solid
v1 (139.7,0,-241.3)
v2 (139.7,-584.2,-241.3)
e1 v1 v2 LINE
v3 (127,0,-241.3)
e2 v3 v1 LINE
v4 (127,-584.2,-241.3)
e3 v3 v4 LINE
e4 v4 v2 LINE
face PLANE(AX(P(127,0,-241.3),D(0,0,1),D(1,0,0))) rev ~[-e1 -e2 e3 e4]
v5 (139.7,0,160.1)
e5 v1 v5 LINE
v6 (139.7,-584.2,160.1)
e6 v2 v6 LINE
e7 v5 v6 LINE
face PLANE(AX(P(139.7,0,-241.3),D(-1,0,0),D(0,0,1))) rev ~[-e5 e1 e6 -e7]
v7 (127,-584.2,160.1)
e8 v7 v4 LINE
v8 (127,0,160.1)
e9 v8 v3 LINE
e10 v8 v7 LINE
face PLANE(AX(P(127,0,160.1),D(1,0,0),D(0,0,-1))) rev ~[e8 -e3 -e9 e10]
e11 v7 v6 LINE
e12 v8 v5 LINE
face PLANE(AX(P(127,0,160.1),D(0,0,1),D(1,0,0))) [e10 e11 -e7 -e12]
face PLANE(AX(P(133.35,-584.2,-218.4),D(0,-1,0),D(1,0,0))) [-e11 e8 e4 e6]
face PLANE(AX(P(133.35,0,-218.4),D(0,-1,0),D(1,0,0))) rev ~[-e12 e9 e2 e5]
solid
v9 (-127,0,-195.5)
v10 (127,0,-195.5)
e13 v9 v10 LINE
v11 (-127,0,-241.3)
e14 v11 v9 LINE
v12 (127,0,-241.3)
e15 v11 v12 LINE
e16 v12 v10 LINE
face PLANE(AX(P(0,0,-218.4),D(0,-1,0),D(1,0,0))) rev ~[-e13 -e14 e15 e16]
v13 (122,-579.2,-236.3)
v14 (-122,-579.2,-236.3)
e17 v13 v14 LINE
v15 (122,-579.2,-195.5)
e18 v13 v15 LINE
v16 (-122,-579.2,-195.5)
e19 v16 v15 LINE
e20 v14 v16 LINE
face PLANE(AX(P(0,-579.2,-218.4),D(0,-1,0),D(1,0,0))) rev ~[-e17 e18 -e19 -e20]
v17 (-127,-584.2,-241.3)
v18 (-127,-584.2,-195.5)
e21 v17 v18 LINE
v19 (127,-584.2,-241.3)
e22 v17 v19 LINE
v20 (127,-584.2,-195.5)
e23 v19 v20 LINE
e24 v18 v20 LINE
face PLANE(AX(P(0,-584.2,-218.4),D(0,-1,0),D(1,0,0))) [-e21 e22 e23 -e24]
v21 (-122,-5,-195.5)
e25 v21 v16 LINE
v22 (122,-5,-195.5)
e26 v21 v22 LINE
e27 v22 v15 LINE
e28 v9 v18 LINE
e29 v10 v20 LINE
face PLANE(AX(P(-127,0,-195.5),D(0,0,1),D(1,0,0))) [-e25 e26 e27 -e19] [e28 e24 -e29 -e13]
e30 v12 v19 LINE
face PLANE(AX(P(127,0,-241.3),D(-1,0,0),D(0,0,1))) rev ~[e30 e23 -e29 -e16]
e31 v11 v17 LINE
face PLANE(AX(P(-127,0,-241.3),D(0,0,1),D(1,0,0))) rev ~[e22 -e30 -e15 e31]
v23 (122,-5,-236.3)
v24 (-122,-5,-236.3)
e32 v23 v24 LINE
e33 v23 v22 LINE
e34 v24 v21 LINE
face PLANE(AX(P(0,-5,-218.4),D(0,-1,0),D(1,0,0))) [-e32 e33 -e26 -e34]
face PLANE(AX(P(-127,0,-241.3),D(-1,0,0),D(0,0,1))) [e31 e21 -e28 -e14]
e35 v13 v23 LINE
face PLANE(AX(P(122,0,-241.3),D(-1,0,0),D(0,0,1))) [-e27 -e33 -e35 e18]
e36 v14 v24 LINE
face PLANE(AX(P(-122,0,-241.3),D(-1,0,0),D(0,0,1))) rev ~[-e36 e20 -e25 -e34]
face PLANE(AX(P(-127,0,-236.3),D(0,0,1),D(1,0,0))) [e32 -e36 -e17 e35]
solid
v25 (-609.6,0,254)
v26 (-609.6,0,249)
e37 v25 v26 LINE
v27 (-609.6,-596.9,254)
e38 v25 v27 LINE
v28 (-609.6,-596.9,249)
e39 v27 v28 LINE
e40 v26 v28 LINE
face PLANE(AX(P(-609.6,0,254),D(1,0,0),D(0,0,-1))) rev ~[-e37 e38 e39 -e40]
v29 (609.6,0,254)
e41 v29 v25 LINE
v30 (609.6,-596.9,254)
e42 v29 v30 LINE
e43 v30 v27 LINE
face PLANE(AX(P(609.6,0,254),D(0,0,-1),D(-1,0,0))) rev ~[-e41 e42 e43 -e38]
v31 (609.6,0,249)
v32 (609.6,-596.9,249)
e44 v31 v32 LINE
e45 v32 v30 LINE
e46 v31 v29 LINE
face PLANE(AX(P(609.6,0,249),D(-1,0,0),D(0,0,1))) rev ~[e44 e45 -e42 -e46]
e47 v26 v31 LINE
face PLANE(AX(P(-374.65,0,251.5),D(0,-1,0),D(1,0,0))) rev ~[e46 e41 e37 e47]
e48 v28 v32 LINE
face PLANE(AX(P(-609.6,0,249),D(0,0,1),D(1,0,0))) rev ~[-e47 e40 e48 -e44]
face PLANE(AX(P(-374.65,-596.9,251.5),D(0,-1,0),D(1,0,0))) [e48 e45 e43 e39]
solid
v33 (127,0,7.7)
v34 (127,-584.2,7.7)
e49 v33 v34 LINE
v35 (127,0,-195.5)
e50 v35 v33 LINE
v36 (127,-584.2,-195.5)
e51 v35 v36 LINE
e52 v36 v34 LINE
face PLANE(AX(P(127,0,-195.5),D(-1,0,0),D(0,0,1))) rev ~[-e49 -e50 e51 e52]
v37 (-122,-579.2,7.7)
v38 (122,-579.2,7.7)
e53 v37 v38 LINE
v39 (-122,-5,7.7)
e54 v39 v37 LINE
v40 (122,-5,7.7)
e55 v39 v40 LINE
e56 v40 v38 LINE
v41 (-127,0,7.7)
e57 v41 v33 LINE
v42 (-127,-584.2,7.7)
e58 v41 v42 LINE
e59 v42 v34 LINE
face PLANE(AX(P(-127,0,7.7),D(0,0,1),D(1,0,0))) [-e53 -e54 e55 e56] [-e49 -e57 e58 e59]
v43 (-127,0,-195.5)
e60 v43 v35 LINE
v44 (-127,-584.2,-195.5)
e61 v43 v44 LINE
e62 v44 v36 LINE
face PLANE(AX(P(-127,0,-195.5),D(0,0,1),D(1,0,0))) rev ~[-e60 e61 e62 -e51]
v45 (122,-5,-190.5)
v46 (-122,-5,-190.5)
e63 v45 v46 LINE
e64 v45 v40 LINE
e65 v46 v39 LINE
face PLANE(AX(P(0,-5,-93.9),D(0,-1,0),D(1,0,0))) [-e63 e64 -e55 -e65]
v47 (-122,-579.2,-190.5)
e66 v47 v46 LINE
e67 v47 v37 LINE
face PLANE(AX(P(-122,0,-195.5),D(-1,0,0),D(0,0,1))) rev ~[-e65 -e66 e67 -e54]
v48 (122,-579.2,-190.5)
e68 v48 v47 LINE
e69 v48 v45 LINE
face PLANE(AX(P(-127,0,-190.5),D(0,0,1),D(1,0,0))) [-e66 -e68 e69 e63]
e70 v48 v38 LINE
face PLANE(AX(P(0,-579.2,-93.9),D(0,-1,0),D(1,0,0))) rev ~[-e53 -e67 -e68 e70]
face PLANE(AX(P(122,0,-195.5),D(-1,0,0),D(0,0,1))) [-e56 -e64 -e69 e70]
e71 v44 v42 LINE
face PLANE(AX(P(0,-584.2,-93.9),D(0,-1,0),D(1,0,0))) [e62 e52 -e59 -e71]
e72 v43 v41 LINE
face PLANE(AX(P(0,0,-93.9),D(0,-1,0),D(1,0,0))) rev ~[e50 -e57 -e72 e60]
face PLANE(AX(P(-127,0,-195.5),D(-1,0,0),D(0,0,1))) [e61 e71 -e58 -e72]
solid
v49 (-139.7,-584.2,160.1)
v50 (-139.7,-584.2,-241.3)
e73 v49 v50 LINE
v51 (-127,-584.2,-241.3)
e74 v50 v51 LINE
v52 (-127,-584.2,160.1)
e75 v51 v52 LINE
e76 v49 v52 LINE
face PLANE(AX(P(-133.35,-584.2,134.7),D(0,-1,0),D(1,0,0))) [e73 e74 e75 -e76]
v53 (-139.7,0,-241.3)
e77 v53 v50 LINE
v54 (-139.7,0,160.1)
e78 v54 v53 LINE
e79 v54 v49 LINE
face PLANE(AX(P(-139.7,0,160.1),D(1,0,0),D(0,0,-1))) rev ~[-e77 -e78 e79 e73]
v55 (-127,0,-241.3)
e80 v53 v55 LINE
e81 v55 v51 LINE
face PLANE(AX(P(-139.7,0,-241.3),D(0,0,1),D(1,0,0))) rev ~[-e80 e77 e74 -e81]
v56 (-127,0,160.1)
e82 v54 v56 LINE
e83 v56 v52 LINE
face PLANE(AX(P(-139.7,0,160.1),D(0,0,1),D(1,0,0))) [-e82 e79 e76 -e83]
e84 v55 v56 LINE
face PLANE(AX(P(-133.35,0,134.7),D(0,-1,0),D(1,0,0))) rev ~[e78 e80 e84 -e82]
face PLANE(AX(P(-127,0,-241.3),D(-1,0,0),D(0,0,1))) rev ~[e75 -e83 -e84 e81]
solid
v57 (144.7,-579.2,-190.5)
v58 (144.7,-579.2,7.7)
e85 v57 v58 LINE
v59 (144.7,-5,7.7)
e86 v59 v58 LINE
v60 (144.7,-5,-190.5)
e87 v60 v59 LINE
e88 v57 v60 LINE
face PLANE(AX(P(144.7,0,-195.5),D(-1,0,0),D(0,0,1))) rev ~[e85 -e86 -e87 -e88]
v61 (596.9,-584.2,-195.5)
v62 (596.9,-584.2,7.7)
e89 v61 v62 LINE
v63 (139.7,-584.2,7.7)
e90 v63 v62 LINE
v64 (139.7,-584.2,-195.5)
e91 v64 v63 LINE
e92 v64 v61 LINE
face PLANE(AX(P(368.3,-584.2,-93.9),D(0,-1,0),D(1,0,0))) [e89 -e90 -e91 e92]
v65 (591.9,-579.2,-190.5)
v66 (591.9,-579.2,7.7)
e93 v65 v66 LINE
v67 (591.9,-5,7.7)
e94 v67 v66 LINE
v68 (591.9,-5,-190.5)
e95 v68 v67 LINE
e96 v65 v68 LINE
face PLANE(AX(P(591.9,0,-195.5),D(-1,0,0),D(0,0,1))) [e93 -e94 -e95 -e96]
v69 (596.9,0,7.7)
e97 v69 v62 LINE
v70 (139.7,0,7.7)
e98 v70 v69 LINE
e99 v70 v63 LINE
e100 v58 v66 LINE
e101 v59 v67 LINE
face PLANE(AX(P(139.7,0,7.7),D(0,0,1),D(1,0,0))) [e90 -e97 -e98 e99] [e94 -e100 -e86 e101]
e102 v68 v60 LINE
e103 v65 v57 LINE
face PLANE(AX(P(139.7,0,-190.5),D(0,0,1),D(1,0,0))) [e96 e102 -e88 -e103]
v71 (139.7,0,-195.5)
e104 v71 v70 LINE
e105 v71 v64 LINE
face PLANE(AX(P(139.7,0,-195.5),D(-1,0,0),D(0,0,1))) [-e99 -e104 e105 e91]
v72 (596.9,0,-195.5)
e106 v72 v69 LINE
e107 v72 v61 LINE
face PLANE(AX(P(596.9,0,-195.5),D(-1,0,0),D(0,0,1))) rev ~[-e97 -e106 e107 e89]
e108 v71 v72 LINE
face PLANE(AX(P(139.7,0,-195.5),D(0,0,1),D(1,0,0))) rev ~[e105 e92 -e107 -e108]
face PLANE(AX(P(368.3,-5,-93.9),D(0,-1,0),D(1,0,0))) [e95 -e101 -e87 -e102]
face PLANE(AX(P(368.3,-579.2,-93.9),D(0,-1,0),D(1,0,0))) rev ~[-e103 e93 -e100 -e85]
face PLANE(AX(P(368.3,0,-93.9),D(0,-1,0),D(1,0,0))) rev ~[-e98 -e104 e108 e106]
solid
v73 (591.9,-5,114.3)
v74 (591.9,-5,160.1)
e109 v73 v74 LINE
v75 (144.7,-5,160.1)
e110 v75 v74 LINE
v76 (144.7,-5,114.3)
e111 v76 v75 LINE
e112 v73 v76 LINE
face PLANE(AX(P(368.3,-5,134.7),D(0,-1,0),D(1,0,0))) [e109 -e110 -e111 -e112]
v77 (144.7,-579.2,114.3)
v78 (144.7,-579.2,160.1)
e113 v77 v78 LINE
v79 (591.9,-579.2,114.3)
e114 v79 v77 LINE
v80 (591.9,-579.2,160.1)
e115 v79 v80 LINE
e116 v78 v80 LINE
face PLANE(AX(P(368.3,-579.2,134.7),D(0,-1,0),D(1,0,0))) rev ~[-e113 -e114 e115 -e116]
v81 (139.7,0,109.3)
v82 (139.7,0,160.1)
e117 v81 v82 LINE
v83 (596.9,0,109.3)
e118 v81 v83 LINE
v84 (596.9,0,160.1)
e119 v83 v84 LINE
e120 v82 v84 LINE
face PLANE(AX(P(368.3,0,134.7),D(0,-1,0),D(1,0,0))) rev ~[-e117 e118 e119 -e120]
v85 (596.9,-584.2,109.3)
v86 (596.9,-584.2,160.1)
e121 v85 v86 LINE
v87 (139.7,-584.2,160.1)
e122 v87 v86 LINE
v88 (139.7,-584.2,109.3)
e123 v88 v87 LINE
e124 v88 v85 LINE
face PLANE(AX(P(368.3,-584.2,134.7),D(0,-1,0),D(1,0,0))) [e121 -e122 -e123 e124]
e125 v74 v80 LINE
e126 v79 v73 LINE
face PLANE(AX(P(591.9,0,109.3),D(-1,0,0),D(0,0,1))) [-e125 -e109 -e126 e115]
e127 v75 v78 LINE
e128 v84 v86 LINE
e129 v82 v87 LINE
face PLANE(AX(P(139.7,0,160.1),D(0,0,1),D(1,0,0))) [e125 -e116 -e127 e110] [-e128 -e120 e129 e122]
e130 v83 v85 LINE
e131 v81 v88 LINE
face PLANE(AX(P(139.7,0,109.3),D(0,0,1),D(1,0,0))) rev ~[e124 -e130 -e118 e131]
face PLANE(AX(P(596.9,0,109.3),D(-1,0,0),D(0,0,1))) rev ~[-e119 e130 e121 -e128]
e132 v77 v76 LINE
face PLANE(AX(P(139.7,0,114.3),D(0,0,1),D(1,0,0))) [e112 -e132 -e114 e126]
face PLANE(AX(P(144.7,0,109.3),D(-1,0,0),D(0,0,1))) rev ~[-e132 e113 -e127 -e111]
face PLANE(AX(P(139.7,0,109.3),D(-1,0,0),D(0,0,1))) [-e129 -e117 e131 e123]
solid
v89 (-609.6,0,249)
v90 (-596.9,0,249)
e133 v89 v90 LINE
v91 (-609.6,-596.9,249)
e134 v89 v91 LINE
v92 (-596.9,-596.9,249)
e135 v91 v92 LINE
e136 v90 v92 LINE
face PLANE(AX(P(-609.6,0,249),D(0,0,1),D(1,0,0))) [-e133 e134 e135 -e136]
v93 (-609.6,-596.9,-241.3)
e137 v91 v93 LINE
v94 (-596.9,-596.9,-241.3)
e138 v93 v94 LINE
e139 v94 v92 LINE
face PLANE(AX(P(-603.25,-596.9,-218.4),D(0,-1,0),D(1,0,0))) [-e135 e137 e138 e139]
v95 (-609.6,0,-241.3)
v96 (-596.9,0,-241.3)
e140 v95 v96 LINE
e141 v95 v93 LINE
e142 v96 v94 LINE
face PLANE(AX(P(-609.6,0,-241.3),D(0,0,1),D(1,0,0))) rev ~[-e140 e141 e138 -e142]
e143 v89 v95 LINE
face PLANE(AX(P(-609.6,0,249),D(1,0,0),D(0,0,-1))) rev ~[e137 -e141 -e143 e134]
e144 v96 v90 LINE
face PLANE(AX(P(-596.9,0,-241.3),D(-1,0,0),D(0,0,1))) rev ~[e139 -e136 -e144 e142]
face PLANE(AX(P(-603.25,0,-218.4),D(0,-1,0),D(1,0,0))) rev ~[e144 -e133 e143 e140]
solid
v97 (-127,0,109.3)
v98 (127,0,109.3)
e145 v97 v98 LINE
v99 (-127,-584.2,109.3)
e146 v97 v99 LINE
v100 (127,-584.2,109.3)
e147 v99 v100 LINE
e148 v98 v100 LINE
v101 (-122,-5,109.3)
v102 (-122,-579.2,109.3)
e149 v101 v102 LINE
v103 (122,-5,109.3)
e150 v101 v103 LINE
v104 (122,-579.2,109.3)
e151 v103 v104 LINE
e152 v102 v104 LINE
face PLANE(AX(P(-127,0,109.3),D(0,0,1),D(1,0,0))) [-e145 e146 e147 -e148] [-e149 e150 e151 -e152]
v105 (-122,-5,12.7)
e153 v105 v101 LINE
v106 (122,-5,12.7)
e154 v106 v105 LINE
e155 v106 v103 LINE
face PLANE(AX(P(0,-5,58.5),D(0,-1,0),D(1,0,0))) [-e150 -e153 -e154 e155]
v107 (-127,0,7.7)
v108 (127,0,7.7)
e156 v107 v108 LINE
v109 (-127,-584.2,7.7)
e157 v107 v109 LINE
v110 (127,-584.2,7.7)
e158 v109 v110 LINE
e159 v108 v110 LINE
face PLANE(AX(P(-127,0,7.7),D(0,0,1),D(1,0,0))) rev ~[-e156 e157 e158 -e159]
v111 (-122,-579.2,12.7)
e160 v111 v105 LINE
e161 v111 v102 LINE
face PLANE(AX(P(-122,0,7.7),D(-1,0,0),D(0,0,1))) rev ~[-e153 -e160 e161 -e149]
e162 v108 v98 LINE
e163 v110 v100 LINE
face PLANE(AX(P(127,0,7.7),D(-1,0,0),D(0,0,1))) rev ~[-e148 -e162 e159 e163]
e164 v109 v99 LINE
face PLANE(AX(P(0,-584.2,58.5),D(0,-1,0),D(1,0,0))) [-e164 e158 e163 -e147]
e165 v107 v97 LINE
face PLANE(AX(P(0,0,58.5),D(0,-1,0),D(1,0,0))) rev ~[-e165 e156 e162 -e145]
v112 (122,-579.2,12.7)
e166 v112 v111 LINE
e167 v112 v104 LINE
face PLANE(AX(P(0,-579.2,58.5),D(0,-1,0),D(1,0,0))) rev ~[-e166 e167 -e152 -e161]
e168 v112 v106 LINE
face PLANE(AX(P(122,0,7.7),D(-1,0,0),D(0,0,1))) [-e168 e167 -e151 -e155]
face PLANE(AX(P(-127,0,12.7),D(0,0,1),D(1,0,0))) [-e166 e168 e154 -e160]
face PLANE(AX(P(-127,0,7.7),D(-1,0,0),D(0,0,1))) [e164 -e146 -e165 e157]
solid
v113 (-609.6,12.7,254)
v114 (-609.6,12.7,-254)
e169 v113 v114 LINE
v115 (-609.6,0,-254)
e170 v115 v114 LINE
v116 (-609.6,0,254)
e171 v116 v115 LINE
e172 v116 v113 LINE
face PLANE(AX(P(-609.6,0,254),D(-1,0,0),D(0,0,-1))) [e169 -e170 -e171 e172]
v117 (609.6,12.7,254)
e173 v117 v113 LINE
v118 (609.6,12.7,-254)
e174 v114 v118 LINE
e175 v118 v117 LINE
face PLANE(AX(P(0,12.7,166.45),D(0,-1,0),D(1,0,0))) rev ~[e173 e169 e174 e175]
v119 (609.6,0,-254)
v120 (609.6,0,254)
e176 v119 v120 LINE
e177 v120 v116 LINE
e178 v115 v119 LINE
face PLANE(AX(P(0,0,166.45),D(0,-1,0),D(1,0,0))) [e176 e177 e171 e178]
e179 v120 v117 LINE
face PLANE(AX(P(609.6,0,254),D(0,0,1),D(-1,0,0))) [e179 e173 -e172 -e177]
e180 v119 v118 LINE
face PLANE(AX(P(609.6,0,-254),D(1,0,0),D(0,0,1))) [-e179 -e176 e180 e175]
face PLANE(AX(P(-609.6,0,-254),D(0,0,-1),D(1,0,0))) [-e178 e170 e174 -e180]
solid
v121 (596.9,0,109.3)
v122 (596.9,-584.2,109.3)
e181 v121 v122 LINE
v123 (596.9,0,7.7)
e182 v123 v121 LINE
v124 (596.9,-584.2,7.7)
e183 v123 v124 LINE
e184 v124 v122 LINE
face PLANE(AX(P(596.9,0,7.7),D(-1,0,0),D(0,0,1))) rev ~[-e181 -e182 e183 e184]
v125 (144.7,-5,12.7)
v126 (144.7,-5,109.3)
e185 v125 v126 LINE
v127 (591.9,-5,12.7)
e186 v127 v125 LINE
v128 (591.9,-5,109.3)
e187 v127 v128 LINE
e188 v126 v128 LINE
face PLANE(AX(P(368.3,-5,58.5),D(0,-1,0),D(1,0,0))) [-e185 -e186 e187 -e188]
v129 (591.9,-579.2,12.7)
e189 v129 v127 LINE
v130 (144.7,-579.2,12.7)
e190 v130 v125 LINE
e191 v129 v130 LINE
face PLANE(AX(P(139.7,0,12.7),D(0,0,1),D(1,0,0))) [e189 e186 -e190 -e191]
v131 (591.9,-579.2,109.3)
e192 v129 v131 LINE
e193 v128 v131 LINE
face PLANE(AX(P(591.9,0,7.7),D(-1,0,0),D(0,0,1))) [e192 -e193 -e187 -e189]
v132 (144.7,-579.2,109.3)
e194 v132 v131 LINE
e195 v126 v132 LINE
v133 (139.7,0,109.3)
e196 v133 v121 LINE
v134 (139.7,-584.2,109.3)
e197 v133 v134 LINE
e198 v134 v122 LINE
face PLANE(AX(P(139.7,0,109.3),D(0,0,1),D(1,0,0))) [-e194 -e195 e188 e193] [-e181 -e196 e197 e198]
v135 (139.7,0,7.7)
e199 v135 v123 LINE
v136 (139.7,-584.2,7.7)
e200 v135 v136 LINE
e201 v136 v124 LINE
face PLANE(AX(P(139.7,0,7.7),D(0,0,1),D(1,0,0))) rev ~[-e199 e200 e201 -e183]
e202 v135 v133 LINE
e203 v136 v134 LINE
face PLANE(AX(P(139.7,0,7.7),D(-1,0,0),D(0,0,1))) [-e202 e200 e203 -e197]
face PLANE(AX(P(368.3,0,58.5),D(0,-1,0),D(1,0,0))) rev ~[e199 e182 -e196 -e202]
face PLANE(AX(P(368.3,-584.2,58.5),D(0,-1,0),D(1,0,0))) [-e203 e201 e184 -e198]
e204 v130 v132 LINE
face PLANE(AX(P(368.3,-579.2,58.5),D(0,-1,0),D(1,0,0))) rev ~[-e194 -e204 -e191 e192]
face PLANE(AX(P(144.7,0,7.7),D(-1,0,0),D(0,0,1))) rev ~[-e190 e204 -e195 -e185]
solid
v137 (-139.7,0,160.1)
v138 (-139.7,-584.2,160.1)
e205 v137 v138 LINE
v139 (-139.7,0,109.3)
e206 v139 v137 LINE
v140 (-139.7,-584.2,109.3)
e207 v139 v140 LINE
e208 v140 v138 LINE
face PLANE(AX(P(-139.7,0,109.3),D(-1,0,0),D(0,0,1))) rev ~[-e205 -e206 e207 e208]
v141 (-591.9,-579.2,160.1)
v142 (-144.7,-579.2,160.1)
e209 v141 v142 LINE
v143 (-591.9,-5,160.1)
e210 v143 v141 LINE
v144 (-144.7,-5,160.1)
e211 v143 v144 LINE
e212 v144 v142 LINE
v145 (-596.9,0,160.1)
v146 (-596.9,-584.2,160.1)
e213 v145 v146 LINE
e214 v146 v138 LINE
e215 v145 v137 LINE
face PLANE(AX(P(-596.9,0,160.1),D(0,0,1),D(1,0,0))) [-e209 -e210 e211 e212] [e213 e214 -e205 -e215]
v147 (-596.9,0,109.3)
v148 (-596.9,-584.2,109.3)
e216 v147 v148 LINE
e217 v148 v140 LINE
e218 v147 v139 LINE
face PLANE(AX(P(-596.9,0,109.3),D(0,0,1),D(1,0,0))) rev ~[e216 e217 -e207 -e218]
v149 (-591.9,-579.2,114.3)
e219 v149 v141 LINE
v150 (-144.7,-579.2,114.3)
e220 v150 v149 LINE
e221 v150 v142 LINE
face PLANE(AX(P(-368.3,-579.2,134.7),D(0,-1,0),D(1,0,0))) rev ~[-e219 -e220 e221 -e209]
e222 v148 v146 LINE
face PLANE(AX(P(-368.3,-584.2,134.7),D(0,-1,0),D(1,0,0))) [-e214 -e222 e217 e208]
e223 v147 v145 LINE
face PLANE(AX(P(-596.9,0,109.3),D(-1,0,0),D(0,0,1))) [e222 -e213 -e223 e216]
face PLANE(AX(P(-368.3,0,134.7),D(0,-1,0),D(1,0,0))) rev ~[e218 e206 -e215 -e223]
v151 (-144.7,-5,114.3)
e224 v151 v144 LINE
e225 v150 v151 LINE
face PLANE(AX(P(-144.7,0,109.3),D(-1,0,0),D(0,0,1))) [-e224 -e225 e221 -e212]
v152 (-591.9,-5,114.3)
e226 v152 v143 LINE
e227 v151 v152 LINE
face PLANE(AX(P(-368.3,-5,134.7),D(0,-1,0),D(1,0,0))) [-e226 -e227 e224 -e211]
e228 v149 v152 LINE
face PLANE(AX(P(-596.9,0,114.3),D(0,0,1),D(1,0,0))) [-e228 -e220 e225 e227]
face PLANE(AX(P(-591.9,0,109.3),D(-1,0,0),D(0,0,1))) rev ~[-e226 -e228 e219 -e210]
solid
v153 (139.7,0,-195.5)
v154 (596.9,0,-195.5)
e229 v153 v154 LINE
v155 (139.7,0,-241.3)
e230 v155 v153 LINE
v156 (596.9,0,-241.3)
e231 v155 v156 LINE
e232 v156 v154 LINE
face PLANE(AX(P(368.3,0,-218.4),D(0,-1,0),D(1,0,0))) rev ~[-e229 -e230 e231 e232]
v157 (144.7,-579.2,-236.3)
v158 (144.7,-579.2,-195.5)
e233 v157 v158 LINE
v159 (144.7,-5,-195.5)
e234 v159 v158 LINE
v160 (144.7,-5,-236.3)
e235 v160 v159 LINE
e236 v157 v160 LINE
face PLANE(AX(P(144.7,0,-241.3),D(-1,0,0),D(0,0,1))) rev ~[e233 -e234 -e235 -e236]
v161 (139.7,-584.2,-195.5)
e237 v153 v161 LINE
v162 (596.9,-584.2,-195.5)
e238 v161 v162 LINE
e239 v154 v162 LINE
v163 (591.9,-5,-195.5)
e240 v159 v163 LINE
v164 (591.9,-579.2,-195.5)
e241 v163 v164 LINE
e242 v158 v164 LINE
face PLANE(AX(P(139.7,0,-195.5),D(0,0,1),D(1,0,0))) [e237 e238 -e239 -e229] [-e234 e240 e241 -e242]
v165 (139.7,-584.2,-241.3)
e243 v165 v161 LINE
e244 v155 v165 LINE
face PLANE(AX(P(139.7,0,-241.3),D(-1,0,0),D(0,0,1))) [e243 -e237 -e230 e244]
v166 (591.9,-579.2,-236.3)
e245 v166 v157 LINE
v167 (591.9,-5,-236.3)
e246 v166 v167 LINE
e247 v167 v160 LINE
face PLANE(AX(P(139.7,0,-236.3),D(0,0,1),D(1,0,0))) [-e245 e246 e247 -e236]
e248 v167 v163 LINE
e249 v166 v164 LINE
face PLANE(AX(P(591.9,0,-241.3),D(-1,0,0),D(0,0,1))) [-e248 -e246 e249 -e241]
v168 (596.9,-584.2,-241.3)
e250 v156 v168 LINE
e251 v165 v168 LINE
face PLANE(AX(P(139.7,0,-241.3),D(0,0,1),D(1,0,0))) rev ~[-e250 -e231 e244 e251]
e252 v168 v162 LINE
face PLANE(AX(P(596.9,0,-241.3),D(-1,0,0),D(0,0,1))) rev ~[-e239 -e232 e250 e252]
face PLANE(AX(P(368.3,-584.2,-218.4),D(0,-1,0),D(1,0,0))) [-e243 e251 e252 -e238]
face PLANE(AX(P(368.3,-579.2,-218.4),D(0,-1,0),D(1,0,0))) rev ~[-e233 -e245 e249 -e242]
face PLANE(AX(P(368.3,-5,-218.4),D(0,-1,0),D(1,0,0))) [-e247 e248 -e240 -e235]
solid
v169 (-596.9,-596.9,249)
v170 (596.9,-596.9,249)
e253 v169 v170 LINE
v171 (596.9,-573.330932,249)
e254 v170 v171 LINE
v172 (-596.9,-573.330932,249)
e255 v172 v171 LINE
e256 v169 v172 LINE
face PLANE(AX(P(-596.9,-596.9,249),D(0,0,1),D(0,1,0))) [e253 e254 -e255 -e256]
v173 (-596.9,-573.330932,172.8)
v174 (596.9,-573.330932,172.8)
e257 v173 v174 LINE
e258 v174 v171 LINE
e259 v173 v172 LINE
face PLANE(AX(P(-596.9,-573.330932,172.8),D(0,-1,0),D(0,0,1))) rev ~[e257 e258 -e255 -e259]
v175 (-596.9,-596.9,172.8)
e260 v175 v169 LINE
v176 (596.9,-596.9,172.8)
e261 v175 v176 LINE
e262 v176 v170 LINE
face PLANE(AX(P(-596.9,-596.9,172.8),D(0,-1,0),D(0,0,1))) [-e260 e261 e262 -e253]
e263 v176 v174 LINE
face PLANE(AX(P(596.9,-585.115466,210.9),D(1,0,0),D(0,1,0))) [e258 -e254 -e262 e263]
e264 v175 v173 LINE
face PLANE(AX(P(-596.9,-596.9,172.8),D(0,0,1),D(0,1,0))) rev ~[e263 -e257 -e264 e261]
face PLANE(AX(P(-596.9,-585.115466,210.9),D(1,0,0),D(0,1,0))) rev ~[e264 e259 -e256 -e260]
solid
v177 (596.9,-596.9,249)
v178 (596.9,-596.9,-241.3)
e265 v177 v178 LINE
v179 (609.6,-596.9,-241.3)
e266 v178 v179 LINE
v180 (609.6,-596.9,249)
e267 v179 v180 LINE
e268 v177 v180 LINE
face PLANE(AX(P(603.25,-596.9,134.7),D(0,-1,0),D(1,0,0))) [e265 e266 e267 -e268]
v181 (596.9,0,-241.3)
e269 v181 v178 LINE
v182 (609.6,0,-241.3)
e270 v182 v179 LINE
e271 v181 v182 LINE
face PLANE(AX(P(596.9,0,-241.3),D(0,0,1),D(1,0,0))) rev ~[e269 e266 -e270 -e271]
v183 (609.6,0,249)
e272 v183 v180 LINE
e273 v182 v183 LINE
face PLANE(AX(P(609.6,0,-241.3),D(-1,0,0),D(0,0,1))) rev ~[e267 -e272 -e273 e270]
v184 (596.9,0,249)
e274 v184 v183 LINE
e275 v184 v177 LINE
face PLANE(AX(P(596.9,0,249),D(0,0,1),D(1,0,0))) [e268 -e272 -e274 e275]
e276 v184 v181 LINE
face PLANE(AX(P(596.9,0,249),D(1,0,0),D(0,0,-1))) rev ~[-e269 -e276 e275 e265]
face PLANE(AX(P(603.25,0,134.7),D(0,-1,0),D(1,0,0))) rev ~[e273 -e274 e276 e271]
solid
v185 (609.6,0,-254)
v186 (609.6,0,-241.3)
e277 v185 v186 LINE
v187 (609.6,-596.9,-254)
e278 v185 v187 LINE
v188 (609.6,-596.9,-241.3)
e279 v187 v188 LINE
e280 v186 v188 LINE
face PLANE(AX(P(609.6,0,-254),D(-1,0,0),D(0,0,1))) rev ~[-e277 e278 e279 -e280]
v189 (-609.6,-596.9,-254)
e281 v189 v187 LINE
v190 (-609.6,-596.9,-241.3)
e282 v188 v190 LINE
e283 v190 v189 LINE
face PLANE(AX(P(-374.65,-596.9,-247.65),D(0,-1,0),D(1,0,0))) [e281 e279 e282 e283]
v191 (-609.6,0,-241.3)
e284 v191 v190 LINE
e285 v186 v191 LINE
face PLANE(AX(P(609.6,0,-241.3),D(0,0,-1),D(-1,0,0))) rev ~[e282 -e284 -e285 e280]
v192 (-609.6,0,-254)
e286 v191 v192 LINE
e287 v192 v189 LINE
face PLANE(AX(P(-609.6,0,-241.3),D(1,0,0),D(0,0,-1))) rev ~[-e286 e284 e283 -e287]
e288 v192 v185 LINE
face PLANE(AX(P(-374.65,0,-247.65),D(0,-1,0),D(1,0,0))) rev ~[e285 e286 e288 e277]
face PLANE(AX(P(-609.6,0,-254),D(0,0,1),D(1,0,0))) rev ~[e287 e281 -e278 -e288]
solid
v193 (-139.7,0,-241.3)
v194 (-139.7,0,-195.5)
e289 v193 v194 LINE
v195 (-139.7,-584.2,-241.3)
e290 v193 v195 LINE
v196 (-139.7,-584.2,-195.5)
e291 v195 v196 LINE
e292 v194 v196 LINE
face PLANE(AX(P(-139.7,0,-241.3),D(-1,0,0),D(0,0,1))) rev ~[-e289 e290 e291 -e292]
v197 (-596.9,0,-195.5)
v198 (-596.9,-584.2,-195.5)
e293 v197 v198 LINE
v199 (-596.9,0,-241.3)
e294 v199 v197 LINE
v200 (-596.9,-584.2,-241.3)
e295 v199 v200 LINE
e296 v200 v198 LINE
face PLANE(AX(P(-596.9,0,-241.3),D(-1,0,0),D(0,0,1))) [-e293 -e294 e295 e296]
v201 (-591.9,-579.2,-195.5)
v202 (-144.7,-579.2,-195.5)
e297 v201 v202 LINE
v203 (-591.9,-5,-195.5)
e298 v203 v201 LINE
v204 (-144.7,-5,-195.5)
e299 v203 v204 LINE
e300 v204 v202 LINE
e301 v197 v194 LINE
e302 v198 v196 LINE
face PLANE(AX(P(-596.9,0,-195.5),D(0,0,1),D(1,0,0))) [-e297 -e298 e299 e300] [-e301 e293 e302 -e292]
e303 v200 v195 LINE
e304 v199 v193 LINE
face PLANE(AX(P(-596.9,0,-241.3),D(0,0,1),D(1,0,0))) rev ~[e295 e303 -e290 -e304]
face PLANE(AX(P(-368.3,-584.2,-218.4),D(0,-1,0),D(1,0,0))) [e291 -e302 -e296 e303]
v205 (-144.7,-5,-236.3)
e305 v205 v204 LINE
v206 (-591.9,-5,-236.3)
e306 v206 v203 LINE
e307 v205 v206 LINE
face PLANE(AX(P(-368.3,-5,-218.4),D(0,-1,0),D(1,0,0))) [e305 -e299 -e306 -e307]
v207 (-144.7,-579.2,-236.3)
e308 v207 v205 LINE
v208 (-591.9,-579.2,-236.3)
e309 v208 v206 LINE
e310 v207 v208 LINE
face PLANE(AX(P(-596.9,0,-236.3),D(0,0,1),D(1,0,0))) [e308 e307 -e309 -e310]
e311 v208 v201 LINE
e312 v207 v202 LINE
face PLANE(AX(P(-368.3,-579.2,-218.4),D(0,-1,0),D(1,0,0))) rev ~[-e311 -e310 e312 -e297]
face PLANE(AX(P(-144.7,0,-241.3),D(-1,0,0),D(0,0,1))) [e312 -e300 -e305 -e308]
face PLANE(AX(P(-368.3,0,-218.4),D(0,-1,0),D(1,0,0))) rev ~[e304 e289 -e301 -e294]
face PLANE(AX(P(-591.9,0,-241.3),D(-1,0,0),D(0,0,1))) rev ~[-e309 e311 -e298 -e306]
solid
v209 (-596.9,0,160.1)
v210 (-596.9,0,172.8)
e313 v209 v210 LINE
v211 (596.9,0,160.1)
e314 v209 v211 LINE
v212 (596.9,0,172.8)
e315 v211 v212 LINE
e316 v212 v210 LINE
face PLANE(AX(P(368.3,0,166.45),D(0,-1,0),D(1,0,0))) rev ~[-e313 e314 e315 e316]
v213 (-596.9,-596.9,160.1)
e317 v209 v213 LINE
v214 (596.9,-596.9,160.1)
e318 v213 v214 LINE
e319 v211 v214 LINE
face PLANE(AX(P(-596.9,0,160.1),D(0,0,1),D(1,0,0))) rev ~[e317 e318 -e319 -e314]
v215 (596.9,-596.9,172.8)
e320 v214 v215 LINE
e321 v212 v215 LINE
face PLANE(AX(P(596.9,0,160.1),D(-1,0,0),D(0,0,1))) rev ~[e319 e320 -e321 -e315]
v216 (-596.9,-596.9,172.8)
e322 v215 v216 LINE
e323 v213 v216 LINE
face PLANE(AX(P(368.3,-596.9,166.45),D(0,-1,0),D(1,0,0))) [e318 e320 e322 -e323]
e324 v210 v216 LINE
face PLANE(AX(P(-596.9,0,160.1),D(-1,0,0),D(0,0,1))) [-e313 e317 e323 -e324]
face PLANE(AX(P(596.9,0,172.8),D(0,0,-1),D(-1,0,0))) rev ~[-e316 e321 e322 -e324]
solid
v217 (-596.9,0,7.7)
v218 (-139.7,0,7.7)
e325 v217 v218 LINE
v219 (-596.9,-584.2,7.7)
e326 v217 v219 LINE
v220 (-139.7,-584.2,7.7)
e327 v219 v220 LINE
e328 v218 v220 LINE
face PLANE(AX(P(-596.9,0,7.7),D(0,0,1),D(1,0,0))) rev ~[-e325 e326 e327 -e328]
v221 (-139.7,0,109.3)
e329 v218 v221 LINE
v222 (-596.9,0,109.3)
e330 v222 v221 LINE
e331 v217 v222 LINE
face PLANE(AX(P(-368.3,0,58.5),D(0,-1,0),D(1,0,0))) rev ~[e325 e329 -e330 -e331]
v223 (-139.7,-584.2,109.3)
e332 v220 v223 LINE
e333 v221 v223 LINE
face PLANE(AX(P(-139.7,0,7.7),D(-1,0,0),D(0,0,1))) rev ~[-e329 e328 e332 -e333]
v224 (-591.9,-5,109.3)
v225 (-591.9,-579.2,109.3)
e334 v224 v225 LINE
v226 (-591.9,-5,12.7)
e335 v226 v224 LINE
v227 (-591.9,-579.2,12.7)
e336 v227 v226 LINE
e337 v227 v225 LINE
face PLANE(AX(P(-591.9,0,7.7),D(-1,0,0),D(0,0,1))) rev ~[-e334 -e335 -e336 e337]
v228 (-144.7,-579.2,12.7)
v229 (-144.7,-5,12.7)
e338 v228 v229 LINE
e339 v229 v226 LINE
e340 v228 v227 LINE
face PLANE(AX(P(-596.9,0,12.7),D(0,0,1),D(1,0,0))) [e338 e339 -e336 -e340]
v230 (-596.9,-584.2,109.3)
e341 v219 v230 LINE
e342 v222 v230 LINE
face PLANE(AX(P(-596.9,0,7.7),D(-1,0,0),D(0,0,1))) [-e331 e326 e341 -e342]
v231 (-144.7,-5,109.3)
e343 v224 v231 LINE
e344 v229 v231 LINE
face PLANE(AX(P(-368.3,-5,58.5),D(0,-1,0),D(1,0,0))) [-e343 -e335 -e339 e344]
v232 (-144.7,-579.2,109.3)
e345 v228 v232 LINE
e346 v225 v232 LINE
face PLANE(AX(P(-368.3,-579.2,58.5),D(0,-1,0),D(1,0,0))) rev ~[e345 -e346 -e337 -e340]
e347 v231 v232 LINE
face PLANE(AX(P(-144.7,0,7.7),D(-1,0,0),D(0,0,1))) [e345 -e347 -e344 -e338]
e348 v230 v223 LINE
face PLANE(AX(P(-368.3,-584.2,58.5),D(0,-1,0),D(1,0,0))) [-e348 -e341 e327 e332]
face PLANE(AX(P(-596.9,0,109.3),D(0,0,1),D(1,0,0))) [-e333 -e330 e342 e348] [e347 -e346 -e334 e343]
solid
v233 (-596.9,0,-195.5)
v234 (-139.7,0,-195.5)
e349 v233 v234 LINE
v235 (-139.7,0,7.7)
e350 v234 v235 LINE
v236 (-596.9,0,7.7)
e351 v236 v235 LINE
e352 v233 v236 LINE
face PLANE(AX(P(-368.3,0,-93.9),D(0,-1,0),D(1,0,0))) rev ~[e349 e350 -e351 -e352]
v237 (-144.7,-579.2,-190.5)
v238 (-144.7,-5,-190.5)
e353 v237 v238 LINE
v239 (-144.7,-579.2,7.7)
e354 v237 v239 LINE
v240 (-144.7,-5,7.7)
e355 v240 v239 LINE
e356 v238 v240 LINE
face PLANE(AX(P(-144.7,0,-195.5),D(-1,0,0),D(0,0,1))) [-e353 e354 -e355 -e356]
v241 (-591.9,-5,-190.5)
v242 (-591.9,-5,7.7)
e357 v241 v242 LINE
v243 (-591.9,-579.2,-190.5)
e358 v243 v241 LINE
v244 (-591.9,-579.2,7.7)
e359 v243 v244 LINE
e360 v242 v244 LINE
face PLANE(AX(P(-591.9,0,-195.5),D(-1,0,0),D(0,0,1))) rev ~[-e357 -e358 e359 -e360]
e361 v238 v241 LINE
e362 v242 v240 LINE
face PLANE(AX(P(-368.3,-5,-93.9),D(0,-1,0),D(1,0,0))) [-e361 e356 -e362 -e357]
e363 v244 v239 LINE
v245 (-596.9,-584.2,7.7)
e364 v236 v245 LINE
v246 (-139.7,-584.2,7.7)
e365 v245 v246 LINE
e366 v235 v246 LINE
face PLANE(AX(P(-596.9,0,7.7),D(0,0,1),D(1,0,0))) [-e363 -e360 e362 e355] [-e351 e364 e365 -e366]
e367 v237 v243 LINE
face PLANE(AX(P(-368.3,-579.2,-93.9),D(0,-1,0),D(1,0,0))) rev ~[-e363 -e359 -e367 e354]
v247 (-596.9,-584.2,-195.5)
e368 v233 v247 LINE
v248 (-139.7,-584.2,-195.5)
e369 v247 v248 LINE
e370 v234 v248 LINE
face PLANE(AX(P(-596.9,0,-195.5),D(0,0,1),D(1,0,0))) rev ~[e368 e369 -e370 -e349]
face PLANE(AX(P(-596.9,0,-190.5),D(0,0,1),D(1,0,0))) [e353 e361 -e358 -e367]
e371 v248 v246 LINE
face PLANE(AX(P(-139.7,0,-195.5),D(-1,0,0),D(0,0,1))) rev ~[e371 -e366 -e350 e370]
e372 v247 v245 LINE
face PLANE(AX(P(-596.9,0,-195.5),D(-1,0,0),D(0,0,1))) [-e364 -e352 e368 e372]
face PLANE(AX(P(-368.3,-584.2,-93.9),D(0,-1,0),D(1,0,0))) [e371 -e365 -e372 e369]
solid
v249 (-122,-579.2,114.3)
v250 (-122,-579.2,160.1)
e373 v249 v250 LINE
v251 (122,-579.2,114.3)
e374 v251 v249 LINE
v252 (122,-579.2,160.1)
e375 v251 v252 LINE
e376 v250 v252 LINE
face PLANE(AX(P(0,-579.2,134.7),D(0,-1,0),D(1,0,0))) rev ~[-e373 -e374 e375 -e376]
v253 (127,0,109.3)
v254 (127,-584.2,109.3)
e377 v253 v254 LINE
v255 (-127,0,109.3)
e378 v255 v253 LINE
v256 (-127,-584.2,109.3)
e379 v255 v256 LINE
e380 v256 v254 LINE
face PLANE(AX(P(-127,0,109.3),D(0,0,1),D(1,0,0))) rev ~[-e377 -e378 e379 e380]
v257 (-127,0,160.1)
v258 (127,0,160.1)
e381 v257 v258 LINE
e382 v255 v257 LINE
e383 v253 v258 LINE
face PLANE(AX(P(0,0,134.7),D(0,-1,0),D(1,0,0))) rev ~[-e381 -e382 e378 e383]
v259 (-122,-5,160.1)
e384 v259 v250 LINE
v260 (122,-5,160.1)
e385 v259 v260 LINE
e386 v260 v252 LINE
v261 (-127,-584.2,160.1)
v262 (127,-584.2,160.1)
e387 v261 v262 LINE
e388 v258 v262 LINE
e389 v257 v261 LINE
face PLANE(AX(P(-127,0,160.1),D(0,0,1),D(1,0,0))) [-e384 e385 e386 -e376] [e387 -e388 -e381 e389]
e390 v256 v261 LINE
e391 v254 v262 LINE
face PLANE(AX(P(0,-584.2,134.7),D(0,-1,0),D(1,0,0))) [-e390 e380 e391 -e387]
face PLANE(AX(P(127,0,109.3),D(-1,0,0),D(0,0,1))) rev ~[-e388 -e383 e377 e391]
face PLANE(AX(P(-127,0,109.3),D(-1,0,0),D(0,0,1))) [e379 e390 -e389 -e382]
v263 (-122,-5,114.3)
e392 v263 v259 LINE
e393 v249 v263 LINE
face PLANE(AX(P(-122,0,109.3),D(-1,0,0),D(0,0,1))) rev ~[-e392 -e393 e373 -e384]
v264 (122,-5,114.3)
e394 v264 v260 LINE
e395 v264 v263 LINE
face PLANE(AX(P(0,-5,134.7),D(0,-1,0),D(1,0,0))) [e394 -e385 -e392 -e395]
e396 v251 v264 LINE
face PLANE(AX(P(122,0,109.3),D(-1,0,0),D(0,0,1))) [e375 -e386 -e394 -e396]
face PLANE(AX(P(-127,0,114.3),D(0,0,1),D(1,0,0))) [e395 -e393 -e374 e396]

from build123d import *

# Parameters (mm, degrees)
F5_W      = 12.7
F5_H      = 5
F5_W_2    = 254
F6_DEPTH  = 596.9
F5_H_2    = 45.8
F5_H_3    = 101.6
F5_H_4    = 50.8
F5_H_5    = 76.2
F5_H_6    = 203.2
F5_H_7    = 12.7
F7_DEPTH  = 596.9
F8_DEPTH  = 596.9
F9_DEPTH  = 584.2
F10_DEPTH = 584.2
F11_DEPTH = 596.9
F5_W_3    = 457.2
F12_DEPTH = 12.7
F13_DEPTH = 596.9
F14_W     = 23.5690682663
F14_H     = 76.2
F15_DEPTH = 1193.8
F16_DEPTH = 584.2
F17_T     = -5
F17_2_T   = -5
F17_3_T   = -5
F17_4_T   = -5
F17_5_T   = -5
F17_6_T   = -5
F18_DEPTH = 584.2
F19_T     = -5
F19_2_T   = -5
F19_3_T   = -5
F19_4_T   = -5
F19_5_T   = -5
F19_6_T   = -5


with BuildPart() as f6:
    # F5 (on Front) → F6 (new body)
    with BuildSketch(Plane.XZ):
        Polygon((-139.7, 249), (-139.7, 254), (-609.6, 254), (-609.6, 249), (-596.9, 249), align=None)
        with Locations((-133.35, 251.5)):
            Rectangle(F5_W, F5_H)
        with Locations((0, 251.5)):
            Rectangle(F5_W_2, F5_H)
        with Locations((133.35, 251.5)):
            Rectangle(F5_W, F5_H)
        Polygon((609.6, 249), (609.6, 254), (139.7, 254), (139.7, 249), (596.9, 249), align=None)
    extrude(amount=F6_DEPTH)


with BuildPart() as f7:
    # F5 (on Front) → F7 (new body)
    with BuildSketch(Plane.XZ):
        with Locations((-603.25, -218.4)):
            Rectangle(F5_W, F5_H_2)
        with Locations((-603.25, 58.5)):
            Rectangle(F5_W, F5_H_3)
        with Locations((-603.25, 134.7)):
            Rectangle(F5_W, F5_H_4)
        with Locations((-603.25, 210.9)):
            Rectangle(F5_W, F5_H_5)
        with Locations((-603.25, -93.9)):
            Rectangle(F5_W, F5_H_6)
        with Locations((-603.25, 166.45)):
            Rectangle(F5_W, F5_H_7)
    extrude(amount=F7_DEPTH)


with BuildPart() as f8:
    # F5 (on Front) → F8 (new body)
    with BuildSketch(Plane.XZ):
        with Locations((603.25, 134.7)):
            Rectangle(F5_W, F5_H_4)
        with Locations((603.25, 58.5)):
            Rectangle(F5_W, F5_H_3)
        with Locations((603.25, 210.9)):
            Rectangle(F5_W, F5_H_5)
        Polygon((609.6, -241.3), (609.6, 7.7), (596.9, 7.7), (596.9, -195.5), (596.9, -241.3), align=None)
        with Locations((603.25, 166.45)):
            Rectangle(F5_W, F5_H_7)
    extrude(amount=F8_DEPTH)


with BuildPart() as f9:
    # F5 (on Front) → F9 (new body)
    with BuildSketch(Plane.XZ):
        with Locations((-133.35, 134.7)):
            Rectangle(F5_W, F5_H_4)
        with Locations((-133.35, 58.5)):
            Rectangle(F5_W, F5_H_3)
        with Locations((-133.35, -93.9)):
            Rectangle(F5_W, F5_H_6)
        with Locations((-133.35, -218.4)):
            Rectangle(F5_W, F5_H_2)
    extrude(amount=F9_DEPTH)


with BuildPart() as f10:
    # F5 (on Front) → F10 (new body)
    with BuildSketch(Plane.XZ):
        with Locations((133.35, -218.4)):
            Rectangle(F5_W, F5_H_2)
        with Locations((133.35, -93.9)):
            Rectangle(F5_W, F5_H_6)
        with Locations((133.35, 58.5)):
            Rectangle(F5_W, F5_H_3)
        with Locations((133.35, 134.7)):
            Rectangle(F5_W, F5_H_4)
    extrude(amount=F10_DEPTH)


with BuildPart() as f11:
    # F5 (on Front) → F11 (new body)
    with BuildSketch(Plane.XZ):
        Polygon((-139.7, -254), (-139.7, -241.3), (-596.9, -241.3), (-609.6, -241.3), (-609.6, -254), align=None)
        with Locations((-133.35, -247.65)):
            Rectangle(F5_W, F5_H_7)
        with Locations((0, -247.65)):
            Rectangle(F5_W_2, F5_H_7)
        with Locations((133.35, -247.65)):
            Rectangle(F5_W, F5_H_7)
        Polygon((609.6, -254), (609.6, -241.3), (596.9, -241.3), (139.7, -241.3), (139.7, -254), align=None)
    extrude(amount=F11_DEPTH)


with BuildPart() as f12:
    # F5 (on Front) → F12 (new body)
    with BuildSketch(Plane.XZ):
        with Locations((0, 166.45)):
            Rectangle(F5_W_2, F5_H_7)
        with Locations((0, -218.4)):
            Rectangle(F5_W_2, F5_H_2)
        with Locations((368.3, 134.7)):
            Rectangle(F5_W_3, F5_H_4)
        with Locations((-368.3, 58.5)):
            Rectangle(F5_W_3, F5_H_3)
        with Locations((368.3, -218.4)):
            Rectangle(F5_W_3, F5_H_2)
        with Locations((368.3, 58.5)):
            Rectangle(F5_W_3, F5_H_3)
        with Locations((133.35, 134.7)):
            Rectangle(F5_W, F5_H_4)
        with Locations((-368.3, -218.4)):
            Rectangle(F5_W_3, F5_H_2)
        with Locations((0, -93.9)):
            Rectangle(F5_W_2, F5_H_6)
        with Locations((-368.3, 166.45)):
            Rectangle(F5_W_3, F5_H_7)
        with Locations((-133.35, -93.9)):
            Rectangle(F5_W, F5_H_6)
        with Locations((-133.35, 58.5)):
            Rectangle(F5_W, F5_H_3)
        with Locations((133.35, -218.4)):
            Rectangle(F5_W, F5_H_2)
        with Locations((0, 134.7)):
            Rectangle(F5_W_2, F5_H_4)
        with Locations((-368.3, -93.9)):
            Rectangle(F5_W_3, F5_H_6)
        with Locations((368.3, -93.9)):
            Rectangle(F5_W_3, F5_H_6)
        with Locations((0, 58.5)):
            Rectangle(F5_W_2, F5_H_3)
        with Locations((-368.3, 134.7)):
            Rectangle(F5_W_3, F5_H_4)
        with Locations((133.35, -93.9)):
            Rectangle(F5_W, F5_H_6)
        with Locations((368.3, 166.45)):
            Rectangle(F5_W_3, F5_H_7)
        with Locations((133.35, 58.5)):
            Rectangle(F5_W, F5_H_3)
        with Locations((-133.35, 134.7)):
            Rectangle(F5_W, F5_H_4)
        with Locations((-133.35, -218.4)):
            Rectangle(F5_W, F5_H_2)
        with Locations((-603.25, 58.5)):
            Rectangle(F5_W, F5_H_3)
        Polygon((609.6, -254), (609.6, -241.3), (596.9, -241.3), (139.7, -241.3), (139.7, -254), align=None)
        with Locations((-603.25, 134.7)):
            Rectangle(F5_W, F5_H_4)
        with Locations((-133.35, -247.65)):
            Rectangle(F5_W, F5_H_7)
        with Locations((603.25, 58.5)):
            Rectangle(F5_W, F5_H_3)
        Polygon((-139.7, -254), (-139.7, -241.3), (-596.9, -241.3), (-609.6, -241.3), (-609.6, -254), align=None)
        with Locations((603.25, 210.9)):
            Rectangle(F5_W, F5_H_5)
        with Locations((133.35, -247.65)):
            Rectangle(F5_W, F5_H_7)
        with Locations((0, -247.65)):
            Rectangle(F5_W_2, F5_H_7)
        with Locations((-603.25, 210.9)):
            Rectangle(F5_W, F5_H_5)
        Polygon((609.6, 249), (609.6, 254), (139.7, 254), (139.7, 249), (596.9, 249), align=None)
        Polygon((-139.7, 249), (-139.7, 254), (-609.6, 254), (-609.6, 249), (-596.9, 249), align=None)
        with Locations((-603.25, -93.9)):
            Rectangle(F5_W, F5_H_6)
        Polygon((609.6, -241.3), (609.6, 7.7), (596.9, 7.7), (596.9, -195.5), (596.9, -241.3), align=None)
        with Locations((-603.25, -218.4)):
            Rectangle(F5_W, F5_H_2)
        with Locations((133.35, 251.5)):
            Rectangle(F5_W, F5_H)
        with Locations((-133.35, 166.45)):
            Rectangle(F5_W, F5_H_7)
        with Locations((0, 251.5)):
            Rectangle(F5_W_2, F5_H)
        with Locations((-133.35, 251.5)):
            Rectangle(F5_W, F5_H)
        with Locations((133.35, 210.9)):
            Rectangle(F5_W, F5_H_5)
        with Locations((603.25, 134.7)):
            Rectangle(F5_W, F5_H_4)
        with Locations((603.25, 166.45)):
            Rectangle(F5_W, F5_H_7)
        with Locations((368.3, 210.9)):
            Rectangle(F5_W_3, F5_H_5)
        with Locations((-368.3, 210.9)):
            Rectangle(F5_W_3, F5_H_5)
        with Locations((0, 210.9)):
            Rectangle(F5_W_2, F5_H_5)
        with Locations((-603.25, 166.45)):
            Rectangle(F5_W, F5_H_7)
        with Locations((-133.35, 210.9)):
            Rectangle(F5_W, F5_H_5)
        with Locations((133.35, 166.45)):
            Rectangle(F5_W, F5_H_7)
    extrude(amount=-F12_DEPTH)


with BuildPart() as f13:
    # F5 (on Front) → F13 (new body)
    with BuildSketch(Plane.XZ):
        with Locations((368.3, 166.45)):
            Rectangle(F5_W_3, F5_H_7)
        with Locations((133.35, 166.45)):
            Rectangle(F5_W, F5_H_7)
        with Locations((0, 166.45)):
            Rectangle(F5_W_2, F5_H_7)
        with Locations((-133.35, 166.45)):
            Rectangle(F5_W, F5_H_7)
        with Locations((-368.3, 166.45)):
            Rectangle(F5_W_3, F5_H_7)
    extrude(amount=F13_DEPTH)


with BuildPart() as f15:
    # F14 (on face) → F15 (new body)
    with BuildSketch(Plane.YZ.offset(-596.9)):
        with Locations((-585.1154658668, 210.9)):
            Rectangle(F14_W, F14_H)
    extrude(amount=F15_DEPTH)


with BuildPart() as f16:
    # F5 (on Front) → F16 (new body)
    with BuildSketch(Plane.XZ):
        with Locations((-368.3, 134.7)):
            Rectangle(F5_W_3, F5_H_4)
    extrude(amount=F16_DEPTH)

    # F17
    f17_openings = [f16.faces().sort_by_distance(p)[0] for p in [
        (-368.3, -292.1, 160.1),
    ]]
    offset(amount=F17_T, openings=f17_openings)


with BuildPart() as f16b:
    # F5 (on Front) → F16, piece 2 (new body)
    with BuildSketch(Plane.XZ):
        with Locations((-368.3, -93.9)):
            Rectangle(F5_W_3, F5_H_6)
    extrude(amount=F16_DEPTH)

    # F17#4
    f17_4_openings = [f16b.faces().sort_by_distance(p)[0] for p in [
        (-368.3, -292.1, 7.7),
    ]]
    offset(amount=F17_4_T, openings=f17_4_openings)


with BuildPart() as f16c:
    # F5 (on Front) → F16, piece 3 (new body)
    with BuildSketch(Plane.XZ):
        with Locations((0, 134.7)):
            Rectangle(F5_W_2, F5_H_4)
    extrude(amount=F16_DEPTH)

    # F17#2
    f17_2_openings = [f16c.faces().sort_by_distance(p)[0] for p in [
        (0, -292.1, 160.1),
    ]]
    offset(amount=F17_2_T, openings=f17_2_openings)


with BuildPart() as f16d:
    # F5 (on Front) → F16, piece 4 (new body)
    with BuildSketch(Plane.XZ):
        with Locations((0, -93.9)):
            Rectangle(F5_W_2, F5_H_6)
    extrude(amount=F16_DEPTH)

    # F17#5
    f17_5_openings = [f16d.faces().sort_by_distance(p)[0] for p in [
        (0, -292.1, 7.7),
    ]]
    offset(amount=F17_5_T, openings=f17_5_openings)


with BuildPart() as f16e:
    # F5 (on Front) → F16, piece 5 (new body)
    with BuildSketch(Plane.XZ):
        with Locations((368.3, 134.7)):
            Rectangle(F5_W_3, F5_H_4)
    extrude(amount=F16_DEPTH)

    # F17#3
    f17_3_openings = [f16e.faces().sort_by_distance(p)[0] for p in [
        (368.3, -292.1, 160.1),
    ]]
    offset(amount=F17_3_T, openings=f17_3_openings)


with BuildPart() as f16f:
    # F5 (on Front) → F16, piece 6 (new body)
    with BuildSketch(Plane.XZ):
        with Locations((368.3, -93.9)):
            Rectangle(F5_W_3, F5_H_6)
    extrude(amount=F16_DEPTH)

    # F17#6
    f17_6_openings = [f16f.faces().sort_by_distance(p)[0] for p in [
        (368.3, -292.1, 7.7),
    ]]
    offset(amount=F17_6_T, openings=f17_6_openings)


with BuildPart() as f18:
    # F5 (on Front) → F18 (new body)
    with BuildSketch(Plane.XZ):
        with Locations((368.3, 58.5)):
            Rectangle(F5_W_3, F5_H_3)
    extrude(amount=F18_DEPTH)

    # F19#3
    f19_3_openings = [f18.faces().sort_by_distance(p)[0] for p in [
        (368.3, -292.1, 109.3),
    ]]
    offset(amount=F19_3_T, openings=f19_3_openings)


with BuildPart() as f18b:
    # F5 (on Front) → F18, piece 2 (new body)
    with BuildSketch(Plane.XZ):
        with Locations((0, 58.5)):
            Rectangle(F5_W_2, F5_H_3)
    extrude(amount=F18_DEPTH)

    # F19#2
    f19_2_openings = [f18b.faces().sort_by_distance(p)[0] for p in [
        (0, -292.1, 109.3),
    ]]
    offset(amount=F19_2_T, openings=f19_2_openings)


with BuildPart() as f18c:
    # F5 (on Front) → F18, piece 3 (new body)
    with BuildSketch(Plane.XZ):
        with Locations((-368.3, 58.5)):
            Rectangle(F5_W_3, F5_H_3)
    extrude(amount=F18_DEPTH)

    # F19
    f19_openings = [f18c.faces().sort_by_distance(p)[0] for p in [
        (-368.3, -292.1, 109.3),
    ]]
    offset(amount=F19_T, openings=f19_openings)


with BuildPart() as f18d:
    # F5 (on Front) → F18, piece 4 (new body)
    with BuildSketch(Plane.XZ):
        with Locations((-368.3, -218.4)):
            Rectangle(F5_W_3, F5_H_2)
    extrude(amount=F18_DEPTH)

    # F19#4
    f19_4_openings = [f18d.faces().sort_by_distance(p)[0] for p in [
        (-368.3, -292.1, -195.5),
    ]]
    offset(amount=F19_4_T, openings=f19_4_openings)


with BuildPart() as f18e:
    # F5 (on Front) → F18, piece 5 (new body)
    with BuildSketch(Plane.XZ):
        with Locations((0, -218.4)):
            Rectangle(F5_W_2, F5_H_2)
    extrude(amount=F18_DEPTH)

    # F19#5
    f19_5_openings = [f18e.faces().sort_by_distance(p)[0] for p in [
        (0, -292.1, -195.5),
    ]]
    offset(amount=F19_5_T, openings=f19_5_openings)


with BuildPart() as f18f:
    # F5 (on Front) → F18, piece 6 (new body)
    with BuildSketch(Plane.XZ):
        with Locations((368.3, -218.4)):
            Rectangle(F5_W_3, F5_H_2)
    extrude(amount=F18_DEPTH)

    # F19#6
    f19_6_openings = [f18f.faces().sort_by_distance(p)[0] for p in [
        (368.3, -292.1, -195.5),
    ]]
    offset(amount=F19_6_T, openings=f19_6_openings)


solid = Compound([f6.part, f7.part, f8.part, f9.part, f10.part, f11.part, f12.part, f13.part, f15.part, f16.part, f16b.part, f16c.part, f16d.part, f16e.part, f16f.part, f18.part, f18b.part, f18c.part, f18d.part, f18e.part, f18f.part])
